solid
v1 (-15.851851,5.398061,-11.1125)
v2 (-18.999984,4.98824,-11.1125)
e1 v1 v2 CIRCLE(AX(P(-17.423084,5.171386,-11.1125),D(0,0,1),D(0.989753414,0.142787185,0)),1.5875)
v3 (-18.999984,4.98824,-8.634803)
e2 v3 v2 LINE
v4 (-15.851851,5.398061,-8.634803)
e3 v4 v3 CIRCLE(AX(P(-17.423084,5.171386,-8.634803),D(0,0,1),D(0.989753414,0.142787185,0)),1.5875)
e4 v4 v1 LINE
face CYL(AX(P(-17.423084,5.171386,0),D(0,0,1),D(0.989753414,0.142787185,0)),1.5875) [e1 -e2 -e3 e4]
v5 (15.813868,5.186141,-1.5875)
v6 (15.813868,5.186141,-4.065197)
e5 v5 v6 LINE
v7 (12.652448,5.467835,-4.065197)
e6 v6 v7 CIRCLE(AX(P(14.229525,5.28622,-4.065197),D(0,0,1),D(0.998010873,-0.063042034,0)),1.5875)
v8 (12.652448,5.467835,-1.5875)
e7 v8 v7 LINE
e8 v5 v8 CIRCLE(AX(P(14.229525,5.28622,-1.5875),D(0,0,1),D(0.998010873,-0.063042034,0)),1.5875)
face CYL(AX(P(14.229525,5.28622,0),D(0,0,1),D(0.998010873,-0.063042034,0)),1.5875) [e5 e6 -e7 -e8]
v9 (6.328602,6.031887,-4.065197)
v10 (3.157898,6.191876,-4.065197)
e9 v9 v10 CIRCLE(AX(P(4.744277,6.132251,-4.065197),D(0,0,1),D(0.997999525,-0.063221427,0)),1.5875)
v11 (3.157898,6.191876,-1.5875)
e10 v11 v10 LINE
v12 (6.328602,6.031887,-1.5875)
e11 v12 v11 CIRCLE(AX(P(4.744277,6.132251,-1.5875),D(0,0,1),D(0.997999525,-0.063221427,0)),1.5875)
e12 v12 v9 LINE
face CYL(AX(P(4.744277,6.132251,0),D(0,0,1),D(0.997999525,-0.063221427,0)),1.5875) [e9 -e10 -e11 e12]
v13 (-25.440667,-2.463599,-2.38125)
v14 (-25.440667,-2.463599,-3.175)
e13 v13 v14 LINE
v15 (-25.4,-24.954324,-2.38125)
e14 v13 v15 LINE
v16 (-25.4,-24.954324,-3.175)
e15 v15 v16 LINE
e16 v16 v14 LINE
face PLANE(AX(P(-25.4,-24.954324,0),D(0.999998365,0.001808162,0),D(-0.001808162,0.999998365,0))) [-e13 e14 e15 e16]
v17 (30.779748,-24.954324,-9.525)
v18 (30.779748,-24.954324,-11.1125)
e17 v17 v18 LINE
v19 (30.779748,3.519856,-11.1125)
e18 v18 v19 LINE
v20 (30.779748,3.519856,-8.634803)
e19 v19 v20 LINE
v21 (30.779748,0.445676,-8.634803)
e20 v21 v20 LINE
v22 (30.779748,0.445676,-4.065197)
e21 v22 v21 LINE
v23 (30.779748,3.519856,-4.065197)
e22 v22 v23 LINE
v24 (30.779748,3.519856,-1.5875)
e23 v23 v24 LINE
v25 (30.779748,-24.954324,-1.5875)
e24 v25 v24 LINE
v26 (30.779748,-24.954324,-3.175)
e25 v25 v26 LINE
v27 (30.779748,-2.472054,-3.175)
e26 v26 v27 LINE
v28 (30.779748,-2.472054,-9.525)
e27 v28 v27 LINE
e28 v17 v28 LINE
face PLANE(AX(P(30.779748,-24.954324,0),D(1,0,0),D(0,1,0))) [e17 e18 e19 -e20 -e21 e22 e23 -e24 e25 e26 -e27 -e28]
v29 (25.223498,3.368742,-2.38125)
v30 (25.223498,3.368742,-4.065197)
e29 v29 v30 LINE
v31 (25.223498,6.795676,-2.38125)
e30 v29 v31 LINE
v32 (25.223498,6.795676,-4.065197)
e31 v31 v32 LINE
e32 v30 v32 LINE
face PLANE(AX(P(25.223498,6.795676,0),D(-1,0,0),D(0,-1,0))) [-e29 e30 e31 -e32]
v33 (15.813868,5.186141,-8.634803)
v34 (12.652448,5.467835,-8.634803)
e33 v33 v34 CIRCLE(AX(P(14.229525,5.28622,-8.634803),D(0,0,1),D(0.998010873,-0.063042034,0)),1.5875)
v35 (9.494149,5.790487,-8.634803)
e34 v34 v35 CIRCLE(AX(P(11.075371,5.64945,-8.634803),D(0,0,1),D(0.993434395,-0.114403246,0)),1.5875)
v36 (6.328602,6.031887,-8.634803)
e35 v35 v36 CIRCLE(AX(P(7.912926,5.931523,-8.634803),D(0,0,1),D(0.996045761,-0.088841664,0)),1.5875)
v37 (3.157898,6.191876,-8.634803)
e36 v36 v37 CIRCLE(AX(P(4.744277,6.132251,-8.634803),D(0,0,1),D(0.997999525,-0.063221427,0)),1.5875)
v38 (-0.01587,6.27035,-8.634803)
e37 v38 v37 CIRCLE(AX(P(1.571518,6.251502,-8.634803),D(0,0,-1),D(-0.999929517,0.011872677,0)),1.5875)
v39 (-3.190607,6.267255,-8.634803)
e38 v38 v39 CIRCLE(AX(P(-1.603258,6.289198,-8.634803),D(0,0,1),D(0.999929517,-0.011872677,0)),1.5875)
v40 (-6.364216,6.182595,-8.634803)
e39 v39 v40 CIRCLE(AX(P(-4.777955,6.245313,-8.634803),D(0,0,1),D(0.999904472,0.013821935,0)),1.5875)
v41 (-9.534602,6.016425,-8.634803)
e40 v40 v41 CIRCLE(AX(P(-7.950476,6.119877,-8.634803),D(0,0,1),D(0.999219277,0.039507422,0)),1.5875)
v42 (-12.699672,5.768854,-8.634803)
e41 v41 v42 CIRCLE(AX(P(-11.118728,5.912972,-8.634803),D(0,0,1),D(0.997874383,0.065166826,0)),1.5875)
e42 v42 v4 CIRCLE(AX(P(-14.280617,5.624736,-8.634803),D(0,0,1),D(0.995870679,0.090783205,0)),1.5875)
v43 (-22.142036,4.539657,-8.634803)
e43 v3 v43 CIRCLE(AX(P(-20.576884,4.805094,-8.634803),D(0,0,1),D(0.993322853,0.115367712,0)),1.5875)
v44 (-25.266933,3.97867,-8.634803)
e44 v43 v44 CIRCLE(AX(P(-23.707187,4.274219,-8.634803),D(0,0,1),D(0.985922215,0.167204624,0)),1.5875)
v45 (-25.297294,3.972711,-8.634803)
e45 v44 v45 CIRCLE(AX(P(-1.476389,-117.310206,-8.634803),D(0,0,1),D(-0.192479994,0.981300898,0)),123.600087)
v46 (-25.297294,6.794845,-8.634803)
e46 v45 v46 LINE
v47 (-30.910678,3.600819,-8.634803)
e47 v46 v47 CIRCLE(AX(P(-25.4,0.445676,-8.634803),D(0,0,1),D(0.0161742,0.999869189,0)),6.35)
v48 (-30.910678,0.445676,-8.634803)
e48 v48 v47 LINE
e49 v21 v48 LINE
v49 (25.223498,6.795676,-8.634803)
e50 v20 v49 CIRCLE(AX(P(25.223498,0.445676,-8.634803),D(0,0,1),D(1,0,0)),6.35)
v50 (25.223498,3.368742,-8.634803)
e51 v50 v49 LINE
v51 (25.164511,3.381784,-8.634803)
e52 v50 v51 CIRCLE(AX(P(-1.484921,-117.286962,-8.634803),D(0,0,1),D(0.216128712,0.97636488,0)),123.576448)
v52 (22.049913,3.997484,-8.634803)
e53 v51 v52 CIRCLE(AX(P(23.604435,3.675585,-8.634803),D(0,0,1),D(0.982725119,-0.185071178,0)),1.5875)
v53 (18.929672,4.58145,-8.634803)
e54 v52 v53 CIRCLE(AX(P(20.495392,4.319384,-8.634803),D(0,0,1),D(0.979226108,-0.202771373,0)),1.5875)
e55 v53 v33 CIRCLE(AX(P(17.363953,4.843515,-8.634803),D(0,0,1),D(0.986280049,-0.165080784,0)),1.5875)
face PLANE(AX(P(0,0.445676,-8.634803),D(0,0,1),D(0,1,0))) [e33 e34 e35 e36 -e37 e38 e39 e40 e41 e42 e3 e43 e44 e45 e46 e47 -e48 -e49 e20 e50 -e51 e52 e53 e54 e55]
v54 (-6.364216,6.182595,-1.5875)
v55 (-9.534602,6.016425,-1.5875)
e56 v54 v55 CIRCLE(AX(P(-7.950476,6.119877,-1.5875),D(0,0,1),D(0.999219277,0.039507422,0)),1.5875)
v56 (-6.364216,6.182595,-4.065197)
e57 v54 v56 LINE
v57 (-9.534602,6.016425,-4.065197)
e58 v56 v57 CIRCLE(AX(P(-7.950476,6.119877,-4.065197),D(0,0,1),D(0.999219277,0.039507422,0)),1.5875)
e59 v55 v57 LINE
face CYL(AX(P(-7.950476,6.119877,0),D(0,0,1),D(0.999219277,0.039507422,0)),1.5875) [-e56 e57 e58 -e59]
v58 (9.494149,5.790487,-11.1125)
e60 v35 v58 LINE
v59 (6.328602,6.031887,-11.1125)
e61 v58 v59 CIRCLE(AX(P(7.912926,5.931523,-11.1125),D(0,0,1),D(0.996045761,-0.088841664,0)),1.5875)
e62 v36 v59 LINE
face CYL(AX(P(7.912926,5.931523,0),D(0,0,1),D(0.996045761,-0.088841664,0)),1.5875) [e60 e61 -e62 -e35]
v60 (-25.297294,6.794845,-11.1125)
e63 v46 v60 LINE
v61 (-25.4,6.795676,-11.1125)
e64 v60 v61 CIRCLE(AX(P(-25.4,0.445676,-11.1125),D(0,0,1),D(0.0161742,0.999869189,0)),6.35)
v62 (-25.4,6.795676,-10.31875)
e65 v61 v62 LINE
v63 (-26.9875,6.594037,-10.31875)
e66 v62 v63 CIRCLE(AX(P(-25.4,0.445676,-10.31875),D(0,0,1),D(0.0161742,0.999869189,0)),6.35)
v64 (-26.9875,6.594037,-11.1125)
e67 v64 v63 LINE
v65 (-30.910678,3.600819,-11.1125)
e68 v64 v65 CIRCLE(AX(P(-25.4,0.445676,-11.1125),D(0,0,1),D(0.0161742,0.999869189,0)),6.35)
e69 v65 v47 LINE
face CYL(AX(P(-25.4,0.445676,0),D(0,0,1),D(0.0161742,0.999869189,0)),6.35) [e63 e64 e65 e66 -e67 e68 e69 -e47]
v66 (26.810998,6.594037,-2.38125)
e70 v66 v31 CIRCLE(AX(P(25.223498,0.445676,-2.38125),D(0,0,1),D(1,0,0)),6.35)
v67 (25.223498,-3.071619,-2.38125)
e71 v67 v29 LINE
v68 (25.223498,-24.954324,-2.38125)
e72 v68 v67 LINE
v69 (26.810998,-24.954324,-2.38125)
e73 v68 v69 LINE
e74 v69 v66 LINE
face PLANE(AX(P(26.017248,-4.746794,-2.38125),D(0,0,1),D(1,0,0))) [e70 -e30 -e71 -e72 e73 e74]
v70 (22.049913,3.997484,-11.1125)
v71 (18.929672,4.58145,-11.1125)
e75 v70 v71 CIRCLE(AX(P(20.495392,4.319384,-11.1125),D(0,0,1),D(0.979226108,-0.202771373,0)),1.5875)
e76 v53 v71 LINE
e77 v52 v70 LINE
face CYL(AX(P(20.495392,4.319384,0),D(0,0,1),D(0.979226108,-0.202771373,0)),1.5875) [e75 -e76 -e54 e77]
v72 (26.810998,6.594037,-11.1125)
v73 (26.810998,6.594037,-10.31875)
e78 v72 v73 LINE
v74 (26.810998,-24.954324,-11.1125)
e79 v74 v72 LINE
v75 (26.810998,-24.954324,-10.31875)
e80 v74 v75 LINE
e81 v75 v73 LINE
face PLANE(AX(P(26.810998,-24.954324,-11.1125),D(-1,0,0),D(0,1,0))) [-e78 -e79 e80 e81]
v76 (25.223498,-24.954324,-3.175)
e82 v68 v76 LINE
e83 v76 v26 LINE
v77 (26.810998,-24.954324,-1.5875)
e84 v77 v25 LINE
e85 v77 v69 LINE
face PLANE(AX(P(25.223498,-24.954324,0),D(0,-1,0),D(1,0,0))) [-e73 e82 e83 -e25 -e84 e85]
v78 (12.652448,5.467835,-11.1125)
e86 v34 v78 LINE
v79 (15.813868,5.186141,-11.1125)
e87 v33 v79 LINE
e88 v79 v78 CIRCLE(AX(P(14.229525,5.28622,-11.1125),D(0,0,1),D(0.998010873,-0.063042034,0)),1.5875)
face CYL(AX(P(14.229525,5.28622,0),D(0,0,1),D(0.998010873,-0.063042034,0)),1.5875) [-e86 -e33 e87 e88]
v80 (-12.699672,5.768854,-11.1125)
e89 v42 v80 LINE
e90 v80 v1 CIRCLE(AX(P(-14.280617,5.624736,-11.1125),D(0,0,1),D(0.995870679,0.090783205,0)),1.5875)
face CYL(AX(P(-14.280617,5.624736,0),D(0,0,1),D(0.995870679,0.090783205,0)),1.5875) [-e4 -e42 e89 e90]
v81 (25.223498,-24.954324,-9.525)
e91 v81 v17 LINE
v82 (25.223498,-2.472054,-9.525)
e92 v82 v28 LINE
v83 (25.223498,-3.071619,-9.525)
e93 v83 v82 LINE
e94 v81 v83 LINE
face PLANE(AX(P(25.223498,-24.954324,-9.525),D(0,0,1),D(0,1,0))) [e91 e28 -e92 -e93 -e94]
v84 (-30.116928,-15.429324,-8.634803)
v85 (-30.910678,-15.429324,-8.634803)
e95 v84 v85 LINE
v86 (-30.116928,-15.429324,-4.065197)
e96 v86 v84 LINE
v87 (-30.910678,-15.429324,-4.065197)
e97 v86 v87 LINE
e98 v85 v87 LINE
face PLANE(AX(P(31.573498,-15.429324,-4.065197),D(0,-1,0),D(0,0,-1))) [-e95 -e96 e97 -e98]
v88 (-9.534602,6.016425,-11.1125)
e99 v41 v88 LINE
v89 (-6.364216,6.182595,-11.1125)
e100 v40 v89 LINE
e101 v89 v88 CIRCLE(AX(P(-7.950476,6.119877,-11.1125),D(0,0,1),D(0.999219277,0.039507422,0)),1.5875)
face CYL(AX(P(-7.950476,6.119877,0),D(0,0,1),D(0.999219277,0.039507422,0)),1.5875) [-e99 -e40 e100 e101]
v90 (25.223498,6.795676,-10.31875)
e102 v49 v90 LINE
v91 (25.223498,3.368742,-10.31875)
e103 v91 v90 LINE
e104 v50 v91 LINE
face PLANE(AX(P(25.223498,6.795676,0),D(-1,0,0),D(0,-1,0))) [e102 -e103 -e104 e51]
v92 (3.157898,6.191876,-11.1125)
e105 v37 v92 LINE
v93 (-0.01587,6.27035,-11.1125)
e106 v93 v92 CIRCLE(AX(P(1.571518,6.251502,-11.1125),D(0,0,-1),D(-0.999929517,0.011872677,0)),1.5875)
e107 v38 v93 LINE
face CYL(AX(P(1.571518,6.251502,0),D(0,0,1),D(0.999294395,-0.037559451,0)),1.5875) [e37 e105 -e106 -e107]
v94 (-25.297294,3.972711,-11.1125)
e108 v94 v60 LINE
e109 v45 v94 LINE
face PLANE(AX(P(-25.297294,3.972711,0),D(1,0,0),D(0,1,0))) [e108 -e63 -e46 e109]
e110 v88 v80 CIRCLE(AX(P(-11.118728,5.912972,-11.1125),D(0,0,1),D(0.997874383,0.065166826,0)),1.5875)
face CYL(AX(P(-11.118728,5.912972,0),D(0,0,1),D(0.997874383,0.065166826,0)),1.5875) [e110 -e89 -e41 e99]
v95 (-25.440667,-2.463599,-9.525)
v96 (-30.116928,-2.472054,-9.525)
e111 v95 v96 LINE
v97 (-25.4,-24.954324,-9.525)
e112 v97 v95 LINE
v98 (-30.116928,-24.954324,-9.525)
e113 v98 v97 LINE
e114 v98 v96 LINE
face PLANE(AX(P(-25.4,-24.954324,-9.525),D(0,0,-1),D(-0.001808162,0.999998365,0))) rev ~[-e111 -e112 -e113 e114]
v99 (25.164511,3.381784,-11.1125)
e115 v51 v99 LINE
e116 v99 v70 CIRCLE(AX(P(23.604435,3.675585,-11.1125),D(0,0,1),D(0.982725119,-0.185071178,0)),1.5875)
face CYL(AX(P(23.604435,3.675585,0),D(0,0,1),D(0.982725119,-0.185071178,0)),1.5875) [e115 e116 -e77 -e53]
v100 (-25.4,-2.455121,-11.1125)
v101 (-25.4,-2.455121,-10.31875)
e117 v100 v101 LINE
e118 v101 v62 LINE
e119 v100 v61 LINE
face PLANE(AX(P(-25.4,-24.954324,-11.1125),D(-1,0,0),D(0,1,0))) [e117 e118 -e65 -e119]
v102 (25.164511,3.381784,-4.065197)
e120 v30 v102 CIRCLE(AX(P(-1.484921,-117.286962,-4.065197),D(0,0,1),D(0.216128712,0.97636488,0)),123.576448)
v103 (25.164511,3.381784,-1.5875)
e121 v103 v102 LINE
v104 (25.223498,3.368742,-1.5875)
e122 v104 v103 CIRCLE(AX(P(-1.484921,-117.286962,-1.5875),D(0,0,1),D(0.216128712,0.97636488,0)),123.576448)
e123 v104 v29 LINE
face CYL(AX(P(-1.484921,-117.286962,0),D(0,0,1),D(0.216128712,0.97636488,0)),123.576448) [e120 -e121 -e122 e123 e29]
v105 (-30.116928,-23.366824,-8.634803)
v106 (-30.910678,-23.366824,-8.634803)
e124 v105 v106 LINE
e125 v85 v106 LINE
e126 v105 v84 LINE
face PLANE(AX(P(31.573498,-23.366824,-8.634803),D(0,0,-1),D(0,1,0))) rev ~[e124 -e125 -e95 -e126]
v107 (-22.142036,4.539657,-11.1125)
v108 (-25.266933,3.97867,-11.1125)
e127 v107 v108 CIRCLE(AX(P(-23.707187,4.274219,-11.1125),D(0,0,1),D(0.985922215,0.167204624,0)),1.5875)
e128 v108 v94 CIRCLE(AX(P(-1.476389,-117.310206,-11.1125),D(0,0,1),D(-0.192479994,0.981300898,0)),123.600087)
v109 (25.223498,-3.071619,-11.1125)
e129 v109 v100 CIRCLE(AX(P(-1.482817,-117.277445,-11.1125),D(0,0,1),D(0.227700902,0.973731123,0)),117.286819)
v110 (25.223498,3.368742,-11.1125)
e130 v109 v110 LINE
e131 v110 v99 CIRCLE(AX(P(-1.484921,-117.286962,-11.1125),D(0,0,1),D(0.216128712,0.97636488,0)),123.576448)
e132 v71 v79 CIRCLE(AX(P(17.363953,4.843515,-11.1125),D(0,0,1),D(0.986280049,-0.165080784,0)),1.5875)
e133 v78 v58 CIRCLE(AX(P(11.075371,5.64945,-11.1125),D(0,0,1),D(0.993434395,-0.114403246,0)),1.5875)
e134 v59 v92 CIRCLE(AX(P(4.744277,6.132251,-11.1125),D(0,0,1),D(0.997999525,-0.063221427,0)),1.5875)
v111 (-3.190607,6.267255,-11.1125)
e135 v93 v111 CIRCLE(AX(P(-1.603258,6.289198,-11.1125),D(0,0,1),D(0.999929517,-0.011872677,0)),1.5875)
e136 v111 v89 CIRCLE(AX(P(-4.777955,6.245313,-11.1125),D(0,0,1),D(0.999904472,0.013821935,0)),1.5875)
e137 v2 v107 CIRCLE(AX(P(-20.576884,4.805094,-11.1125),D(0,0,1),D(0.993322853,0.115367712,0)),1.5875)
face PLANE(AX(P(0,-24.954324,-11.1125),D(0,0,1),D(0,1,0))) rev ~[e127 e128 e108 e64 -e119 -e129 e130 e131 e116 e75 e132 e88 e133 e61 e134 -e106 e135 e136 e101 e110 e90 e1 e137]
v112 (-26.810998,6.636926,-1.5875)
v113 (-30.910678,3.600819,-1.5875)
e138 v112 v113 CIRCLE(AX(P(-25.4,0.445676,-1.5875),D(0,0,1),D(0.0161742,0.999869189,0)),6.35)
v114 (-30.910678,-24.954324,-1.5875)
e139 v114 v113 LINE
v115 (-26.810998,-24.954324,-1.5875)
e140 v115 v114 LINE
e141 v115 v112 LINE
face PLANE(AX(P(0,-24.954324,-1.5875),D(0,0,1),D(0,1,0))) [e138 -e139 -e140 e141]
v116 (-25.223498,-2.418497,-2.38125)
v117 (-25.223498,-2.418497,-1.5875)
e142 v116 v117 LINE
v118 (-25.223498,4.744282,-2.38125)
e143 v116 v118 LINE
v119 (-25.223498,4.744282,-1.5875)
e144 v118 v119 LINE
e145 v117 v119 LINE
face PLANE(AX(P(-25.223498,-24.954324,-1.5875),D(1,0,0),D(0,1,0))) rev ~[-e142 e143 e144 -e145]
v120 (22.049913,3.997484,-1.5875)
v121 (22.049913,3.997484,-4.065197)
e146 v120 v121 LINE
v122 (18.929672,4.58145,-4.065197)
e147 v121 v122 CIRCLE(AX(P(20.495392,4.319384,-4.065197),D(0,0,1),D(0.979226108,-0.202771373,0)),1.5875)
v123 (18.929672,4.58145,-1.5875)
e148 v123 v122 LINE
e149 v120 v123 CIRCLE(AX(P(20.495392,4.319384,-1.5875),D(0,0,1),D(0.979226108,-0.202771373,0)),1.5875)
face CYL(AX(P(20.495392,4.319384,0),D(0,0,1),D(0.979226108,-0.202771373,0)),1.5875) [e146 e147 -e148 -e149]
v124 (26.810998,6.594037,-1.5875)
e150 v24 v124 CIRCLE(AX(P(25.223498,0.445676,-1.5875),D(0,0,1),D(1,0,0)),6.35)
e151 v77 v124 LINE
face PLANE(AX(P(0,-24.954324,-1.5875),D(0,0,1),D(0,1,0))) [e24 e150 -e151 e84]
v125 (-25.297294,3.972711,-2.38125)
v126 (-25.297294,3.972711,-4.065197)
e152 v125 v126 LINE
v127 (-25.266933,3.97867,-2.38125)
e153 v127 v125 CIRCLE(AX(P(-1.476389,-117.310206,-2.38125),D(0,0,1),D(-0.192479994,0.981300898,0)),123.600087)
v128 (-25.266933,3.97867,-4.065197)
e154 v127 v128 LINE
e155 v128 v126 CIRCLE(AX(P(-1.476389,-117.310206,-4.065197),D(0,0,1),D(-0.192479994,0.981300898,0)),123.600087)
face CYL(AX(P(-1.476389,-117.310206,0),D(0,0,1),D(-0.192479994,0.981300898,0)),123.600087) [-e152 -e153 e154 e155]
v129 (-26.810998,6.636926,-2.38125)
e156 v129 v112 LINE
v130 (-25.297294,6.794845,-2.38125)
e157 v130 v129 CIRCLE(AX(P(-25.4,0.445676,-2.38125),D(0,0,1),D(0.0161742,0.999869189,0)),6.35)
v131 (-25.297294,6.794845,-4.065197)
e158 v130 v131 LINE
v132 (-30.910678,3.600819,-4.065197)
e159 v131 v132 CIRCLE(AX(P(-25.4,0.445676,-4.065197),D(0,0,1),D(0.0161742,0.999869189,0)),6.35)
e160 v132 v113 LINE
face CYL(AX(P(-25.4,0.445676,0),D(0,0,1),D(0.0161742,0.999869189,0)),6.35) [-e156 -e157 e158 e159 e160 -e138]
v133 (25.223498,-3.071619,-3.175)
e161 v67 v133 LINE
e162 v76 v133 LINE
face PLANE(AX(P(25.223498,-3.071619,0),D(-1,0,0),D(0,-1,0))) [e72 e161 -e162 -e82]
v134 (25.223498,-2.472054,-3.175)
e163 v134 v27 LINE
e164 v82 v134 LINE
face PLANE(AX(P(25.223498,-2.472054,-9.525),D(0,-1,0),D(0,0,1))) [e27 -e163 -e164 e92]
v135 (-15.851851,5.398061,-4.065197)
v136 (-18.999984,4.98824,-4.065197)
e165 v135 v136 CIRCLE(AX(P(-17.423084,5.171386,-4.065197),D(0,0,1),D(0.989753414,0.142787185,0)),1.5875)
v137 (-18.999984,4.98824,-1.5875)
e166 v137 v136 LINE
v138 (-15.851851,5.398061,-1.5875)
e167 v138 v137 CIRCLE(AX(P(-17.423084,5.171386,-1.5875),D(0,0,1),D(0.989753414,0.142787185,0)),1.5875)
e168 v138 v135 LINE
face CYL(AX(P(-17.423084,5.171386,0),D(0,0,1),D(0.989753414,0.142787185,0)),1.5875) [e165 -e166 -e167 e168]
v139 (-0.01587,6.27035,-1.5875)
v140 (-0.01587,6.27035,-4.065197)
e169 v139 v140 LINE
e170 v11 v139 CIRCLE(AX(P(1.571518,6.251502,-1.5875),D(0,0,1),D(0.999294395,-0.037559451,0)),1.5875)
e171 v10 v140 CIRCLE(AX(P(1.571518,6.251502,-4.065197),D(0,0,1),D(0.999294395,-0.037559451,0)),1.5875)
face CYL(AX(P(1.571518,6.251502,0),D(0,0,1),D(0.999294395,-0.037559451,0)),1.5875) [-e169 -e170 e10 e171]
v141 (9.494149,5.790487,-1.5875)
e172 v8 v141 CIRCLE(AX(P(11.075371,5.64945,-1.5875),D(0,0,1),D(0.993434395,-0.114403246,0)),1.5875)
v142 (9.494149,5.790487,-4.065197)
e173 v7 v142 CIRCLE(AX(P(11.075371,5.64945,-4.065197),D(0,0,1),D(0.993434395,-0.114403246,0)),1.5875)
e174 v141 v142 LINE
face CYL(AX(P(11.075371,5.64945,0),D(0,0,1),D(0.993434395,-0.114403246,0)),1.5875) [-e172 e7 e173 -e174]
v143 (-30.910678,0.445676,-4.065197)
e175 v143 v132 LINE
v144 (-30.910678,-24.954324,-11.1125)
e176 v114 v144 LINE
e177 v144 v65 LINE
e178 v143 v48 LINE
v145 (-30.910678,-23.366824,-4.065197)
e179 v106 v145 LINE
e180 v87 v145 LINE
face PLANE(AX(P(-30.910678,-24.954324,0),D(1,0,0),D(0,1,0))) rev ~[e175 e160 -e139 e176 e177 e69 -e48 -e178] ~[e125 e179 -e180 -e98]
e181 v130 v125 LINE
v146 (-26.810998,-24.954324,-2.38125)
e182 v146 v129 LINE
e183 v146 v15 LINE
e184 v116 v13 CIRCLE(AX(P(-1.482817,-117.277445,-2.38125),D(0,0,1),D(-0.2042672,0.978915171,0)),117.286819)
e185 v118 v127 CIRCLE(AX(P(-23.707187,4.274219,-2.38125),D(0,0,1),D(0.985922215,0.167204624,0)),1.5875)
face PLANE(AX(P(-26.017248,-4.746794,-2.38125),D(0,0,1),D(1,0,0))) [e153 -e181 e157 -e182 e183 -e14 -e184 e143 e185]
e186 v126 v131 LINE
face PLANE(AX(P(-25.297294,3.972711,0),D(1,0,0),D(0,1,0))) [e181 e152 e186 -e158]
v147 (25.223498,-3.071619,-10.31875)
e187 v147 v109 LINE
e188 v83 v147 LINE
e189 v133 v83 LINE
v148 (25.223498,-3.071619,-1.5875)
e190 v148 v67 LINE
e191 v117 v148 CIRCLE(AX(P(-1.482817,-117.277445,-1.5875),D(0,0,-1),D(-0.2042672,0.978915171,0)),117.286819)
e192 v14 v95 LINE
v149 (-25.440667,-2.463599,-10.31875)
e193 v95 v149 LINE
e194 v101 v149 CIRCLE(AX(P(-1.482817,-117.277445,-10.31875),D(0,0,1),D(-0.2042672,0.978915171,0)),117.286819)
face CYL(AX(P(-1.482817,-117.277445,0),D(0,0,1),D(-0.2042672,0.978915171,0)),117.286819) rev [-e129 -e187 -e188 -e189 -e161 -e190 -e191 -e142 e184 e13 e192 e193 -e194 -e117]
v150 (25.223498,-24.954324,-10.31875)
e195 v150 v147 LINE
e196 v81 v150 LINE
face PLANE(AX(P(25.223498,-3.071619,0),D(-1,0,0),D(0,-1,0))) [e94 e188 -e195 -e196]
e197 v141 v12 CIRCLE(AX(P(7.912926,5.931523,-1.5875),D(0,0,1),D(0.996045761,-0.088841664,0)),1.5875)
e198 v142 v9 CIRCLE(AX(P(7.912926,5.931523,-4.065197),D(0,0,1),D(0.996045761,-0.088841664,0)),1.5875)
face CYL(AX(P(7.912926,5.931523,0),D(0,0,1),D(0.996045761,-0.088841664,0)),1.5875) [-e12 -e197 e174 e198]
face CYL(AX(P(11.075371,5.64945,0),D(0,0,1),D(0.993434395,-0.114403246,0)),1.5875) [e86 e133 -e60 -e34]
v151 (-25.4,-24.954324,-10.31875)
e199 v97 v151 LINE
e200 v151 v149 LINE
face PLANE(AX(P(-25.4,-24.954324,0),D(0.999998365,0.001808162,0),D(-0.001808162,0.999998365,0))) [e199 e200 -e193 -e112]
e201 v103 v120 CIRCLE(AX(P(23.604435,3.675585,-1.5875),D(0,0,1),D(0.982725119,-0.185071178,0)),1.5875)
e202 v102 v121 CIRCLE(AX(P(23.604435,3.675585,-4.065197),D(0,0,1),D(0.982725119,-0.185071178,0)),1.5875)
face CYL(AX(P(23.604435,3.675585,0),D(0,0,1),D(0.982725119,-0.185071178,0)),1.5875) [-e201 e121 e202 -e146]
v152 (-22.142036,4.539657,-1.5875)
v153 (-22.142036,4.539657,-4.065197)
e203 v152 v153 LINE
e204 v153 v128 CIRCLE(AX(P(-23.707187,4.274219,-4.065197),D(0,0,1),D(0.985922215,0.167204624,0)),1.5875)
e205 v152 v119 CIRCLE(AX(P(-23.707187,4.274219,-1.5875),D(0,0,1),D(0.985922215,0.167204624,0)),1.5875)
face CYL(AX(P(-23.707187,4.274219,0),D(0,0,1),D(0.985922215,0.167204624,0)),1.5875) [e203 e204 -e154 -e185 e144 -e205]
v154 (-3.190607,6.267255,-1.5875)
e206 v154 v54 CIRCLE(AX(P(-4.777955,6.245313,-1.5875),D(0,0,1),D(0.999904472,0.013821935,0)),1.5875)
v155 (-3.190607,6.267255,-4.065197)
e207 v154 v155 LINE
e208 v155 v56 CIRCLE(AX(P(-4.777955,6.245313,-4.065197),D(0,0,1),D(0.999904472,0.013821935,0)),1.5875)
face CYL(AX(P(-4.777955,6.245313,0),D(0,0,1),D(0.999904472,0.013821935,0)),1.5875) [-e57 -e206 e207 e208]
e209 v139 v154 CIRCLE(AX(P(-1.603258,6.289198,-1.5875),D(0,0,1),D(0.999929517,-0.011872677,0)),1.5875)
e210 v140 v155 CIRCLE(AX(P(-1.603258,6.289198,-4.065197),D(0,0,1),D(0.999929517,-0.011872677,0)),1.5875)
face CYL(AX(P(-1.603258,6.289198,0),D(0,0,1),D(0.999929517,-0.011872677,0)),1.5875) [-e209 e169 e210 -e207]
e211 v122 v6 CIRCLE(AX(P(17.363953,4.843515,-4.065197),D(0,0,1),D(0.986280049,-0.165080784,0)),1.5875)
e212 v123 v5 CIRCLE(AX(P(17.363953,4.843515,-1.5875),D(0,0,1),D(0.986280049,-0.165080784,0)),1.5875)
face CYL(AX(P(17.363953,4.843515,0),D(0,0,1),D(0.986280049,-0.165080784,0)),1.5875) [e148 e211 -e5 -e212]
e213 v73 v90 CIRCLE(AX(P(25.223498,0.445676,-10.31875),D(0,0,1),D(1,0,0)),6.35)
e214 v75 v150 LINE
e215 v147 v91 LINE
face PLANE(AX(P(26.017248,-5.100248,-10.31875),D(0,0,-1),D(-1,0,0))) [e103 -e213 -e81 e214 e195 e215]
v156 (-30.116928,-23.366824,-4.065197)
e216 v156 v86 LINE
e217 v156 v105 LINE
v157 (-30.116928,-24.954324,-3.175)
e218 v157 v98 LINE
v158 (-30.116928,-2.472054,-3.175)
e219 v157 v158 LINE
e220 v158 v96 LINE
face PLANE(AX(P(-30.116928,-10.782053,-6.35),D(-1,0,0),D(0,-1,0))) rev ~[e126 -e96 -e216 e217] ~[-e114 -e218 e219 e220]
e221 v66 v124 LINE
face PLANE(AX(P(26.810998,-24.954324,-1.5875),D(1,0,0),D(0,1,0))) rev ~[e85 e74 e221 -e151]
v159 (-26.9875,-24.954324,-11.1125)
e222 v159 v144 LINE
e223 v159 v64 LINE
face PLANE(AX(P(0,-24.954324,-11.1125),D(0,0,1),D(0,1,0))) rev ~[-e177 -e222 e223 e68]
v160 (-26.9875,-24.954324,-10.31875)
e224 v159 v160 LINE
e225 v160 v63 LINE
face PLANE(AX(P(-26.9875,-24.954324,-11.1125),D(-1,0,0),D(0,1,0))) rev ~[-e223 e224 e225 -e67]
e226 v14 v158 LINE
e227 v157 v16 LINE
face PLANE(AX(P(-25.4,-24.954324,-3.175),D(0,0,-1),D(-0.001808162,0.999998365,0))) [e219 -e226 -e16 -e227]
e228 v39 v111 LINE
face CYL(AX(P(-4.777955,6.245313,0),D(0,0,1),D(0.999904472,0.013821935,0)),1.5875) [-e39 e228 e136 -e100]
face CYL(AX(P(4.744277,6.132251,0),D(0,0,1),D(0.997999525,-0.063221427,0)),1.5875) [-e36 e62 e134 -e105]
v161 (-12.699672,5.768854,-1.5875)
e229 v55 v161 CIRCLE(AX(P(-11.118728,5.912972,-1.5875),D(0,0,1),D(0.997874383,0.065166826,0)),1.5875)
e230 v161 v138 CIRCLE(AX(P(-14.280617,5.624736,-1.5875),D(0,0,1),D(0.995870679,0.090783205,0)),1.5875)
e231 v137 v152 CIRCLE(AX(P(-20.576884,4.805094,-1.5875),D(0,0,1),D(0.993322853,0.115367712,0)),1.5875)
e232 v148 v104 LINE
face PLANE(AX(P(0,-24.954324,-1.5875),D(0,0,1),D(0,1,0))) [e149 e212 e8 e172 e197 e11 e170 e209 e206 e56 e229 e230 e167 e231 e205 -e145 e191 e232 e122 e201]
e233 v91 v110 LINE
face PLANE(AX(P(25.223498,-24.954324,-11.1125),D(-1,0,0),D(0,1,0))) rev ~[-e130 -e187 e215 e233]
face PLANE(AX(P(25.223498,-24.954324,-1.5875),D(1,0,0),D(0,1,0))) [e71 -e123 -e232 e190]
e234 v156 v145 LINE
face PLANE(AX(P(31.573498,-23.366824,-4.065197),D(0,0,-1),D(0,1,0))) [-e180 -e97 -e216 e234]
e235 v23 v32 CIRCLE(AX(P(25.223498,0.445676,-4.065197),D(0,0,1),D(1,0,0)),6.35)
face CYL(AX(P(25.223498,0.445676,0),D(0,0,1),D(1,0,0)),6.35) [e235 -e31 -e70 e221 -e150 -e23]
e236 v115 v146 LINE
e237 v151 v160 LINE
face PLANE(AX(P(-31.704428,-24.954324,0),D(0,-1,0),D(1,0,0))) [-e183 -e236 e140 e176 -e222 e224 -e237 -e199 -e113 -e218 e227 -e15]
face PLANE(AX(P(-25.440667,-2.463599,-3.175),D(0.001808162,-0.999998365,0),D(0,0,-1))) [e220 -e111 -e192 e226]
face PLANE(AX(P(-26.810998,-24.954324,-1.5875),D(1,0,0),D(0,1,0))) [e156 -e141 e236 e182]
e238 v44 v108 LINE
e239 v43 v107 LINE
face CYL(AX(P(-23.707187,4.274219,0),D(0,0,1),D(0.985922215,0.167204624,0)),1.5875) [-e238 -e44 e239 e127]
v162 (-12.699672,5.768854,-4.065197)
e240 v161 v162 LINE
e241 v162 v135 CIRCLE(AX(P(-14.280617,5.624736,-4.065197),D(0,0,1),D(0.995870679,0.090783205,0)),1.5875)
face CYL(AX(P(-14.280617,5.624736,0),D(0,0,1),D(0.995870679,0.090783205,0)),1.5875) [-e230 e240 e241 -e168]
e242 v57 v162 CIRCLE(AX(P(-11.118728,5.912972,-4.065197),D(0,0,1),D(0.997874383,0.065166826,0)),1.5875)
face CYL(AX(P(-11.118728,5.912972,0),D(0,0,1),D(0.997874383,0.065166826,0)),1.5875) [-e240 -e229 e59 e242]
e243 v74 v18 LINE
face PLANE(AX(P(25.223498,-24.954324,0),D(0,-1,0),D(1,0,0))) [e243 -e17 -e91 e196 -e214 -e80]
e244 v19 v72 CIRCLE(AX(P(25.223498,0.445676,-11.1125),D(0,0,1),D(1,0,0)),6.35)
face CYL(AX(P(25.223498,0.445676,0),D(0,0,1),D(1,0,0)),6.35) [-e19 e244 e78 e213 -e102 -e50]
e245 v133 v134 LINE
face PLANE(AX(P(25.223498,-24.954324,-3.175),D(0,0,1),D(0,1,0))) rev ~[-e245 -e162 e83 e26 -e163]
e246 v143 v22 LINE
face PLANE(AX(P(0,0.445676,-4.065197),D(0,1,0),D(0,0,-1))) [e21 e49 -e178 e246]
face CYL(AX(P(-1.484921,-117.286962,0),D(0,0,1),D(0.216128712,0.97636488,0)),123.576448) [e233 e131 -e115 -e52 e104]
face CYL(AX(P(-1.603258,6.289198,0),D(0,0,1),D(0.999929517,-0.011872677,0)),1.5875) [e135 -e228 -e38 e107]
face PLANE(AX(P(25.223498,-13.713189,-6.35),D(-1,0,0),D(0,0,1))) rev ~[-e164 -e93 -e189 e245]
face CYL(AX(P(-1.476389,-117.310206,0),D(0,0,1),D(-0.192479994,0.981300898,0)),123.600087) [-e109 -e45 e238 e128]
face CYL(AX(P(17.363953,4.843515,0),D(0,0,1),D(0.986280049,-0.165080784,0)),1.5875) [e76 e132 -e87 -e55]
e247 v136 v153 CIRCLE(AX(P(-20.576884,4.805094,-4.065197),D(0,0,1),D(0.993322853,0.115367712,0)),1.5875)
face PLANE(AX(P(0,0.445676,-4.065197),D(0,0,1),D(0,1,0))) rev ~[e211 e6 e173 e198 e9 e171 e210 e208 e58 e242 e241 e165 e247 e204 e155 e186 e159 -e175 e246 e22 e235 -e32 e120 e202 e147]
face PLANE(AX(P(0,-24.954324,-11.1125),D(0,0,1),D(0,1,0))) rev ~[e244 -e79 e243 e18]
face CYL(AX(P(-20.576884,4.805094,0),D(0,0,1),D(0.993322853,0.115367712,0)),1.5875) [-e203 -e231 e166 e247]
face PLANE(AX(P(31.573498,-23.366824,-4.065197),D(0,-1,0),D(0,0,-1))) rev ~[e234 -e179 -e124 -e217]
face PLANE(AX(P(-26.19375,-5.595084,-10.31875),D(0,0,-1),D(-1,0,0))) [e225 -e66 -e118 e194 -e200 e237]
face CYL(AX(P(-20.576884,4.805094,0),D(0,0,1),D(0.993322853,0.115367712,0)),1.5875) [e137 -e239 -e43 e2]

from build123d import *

# Parameters (mm, degrees)
BOSS_EXTRUDE1_DEPTH              = 12.7
SKETCH3_W                        = 4.569606656
SKETCH3_H                        = 12.610946307
CUT_EXTRUDE1_DEPTH               = 32.573497659
CUT_EXTRUDE1_DEPTH_BACK          = 32.704428158
SKETCH4_W                        = 4.569606656
SKETCH4_H                        = 7.9375
CUT_EXTRUDE2_DEPTH               = 66.04
SKETCH5_W                        = 1.5875
SKETCH5_H                        = 39.725965327
CUT_EXTRUDE3_DEPTH               = 32.573497659
CUT_EXTRUDE3_DEPTH_BACK          = 32.704428158
SKETCH6_W                        = 1.5875
SKETCH6_H                        = 40.415060451
CUT_EXTRUDE4_DEPTH               = 0.79375
SKETCH7_W                        = 1.5875
SKETCH7_H                        = 38.718479636
SKETCH7_H_2                      = 39.708151778
CUT_EXTRUDE5_DEPTH               = 0.79375
CUT_EXTRUDE6_REACH               = 9.892
CUT_EXTRUDE6_OFFSET_FROM_SURFACE = 1.5875
SKETCH8_W                        = 6.35
SKETCH8_H                        = 22.490762182
SKETCH9_W                        = 6.35
SKETCH9_H                        = 22.482269966
CUT_EXTRUDE7_DEPTH               = 5.55625
SKETCH10_W                       = 0.79375
SKETCH10_H                       = 36.880517087
CUT_EXTRUDE8_DEPTH               = 12.1125


with BuildPart() as part:
    # Sketch1 → Boss-Extrude1 (new body)
    with BuildSketch(Plane.XY):
        with BuildLine():
            Line((25.223497659, -24.95432425), (31.573497659, -24.95432425))
            Line((31.573497659, -24.95432425), (31.573497659, 0.44567575))
            ThreePointArc((31.573497659, 0.44567575), (29.713625719, 4.935803811), (25.223497659, 6.79567575))
            Line((25.223497659, 6.79567575), (25.223497659, 3.36874218))
            ThreePointArc((25.223497659, 3.36874218), (25.194005143, 3.37526688), (25.164511033, 3.381784371))
            ThreePointArc((25.164511033, 3.381784371), (23.912297459, 5.232947026), (22.049913461, 3.997484421))
            ThreePointArc((22.049913461, 3.997484421), (20.787428344, 5.879791305), (18.929672437, 4.581449722))
            ThreePointArc((18.929672437, 4.581449722), (17.666399498, 6.401938478), (15.813867684, 5.186140916))
            ThreePointArc((15.813867684, 5.186140916), (14.370419451, 6.86745546), (12.652448322, 5.467835298))
            ThreePointArc((12.652448322, 5.467835298), (11.236710182, 7.228730664), (9.494148573, 5.790486593))
            ThreePointArc((9.494148573, 5.790486593), (8.033635968, 7.514426817), (6.328601682, 6.03188675))
            ThreePointArc((6.328601682, 6.03188675), (4.824278861, 7.717733664), (3.157897585, 6.191876393))
            ThreePointArc((3.157897585, 6.191876393), (1.610757722, 7.838516978), (-0.015870376, 6.270349895))
            ThreePointArc((-0.015870376, 6.270349895), (-1.604805836, 7.876697016), (-3.190606835, 6.267255447))
            ThreePointArc((-3.190606835, 6.267255447), (-4.820288856, 7.832248571), (-6.364215787, 6.182595092))
            ThreePointArc((-6.364215787, 6.182595092), (-8.033568431, 7.705200989), (-9.534601973, 6.016424724))
            ThreePointArc((-9.534601973, 6.016424724), (-11.24252311, 7.495638149), (-12.69967226, 5.76885405))
            ThreePointArc((-12.69967226, 5.76885405), (-14.466077033, 7.201365285), (-15.851850507, 5.398061056))
            ThreePointArc((-15.851850507, 5.398061056), (-17.628014087, 6.745603643), (-18.999984081, 4.988240156))
            ThreePointArc((-18.999984081, 4.988240156), (-20.801252814, 6.376658399), (-22.142035626, 4.539656571))
            ThreePointArc((-22.142035626, 4.539656571), (-23.987693231, 5.836740457), (-25.266933007, 3.978670437))
            ThreePointArc((-25.266933007, 3.978670437), (-25.282113604, 3.97569181), (-25.297293828, 3.972711283))
            Line((-25.297293828, 3.972711283), (-25.297293828, 6.794845101))
            ThreePointArc((-25.297293828, 6.794845101), (-29.574532825, 5.2306288), (-31.704428158, 1.205073937))
            Line((-31.704428158, 1.205073937), (-31.704428158, -24.95432425))
            Line((-31.704428158, -24.95432425), (-25.4, -24.95432425))
            Line((-25.4, -24.95432425), (-25.440666935, -2.463598833))
            ThreePointArc((-25.440666935, -2.463598833), (-0.075359426, 0.000928604), (25.223497659, -3.071619312))
            Line((25.223497659, -3.071619312), (25.223497659, -24.95432425))
        make_face()
    extrude(amount=-BOSS_EXTRUDE1_DEPTH)

    # Sketch3 → Cut-Extrude1 (cut, two sides)
    with BuildSketch(Plane(origin=(0, 0, 0), x_dir=(0, 0, -1), z_dir=(1, 0, 0))) as cut_extrude1_sk:
        with Locations((6.35, 6.751148903)):
            Rectangle(SKETCH3_W, SKETCH3_H)
    extrude(amount=CUT_EXTRUDE1_DEPTH, mode=Mode.SUBTRACT)
    extrude(cut_extrude1_sk.sketch, amount=-CUT_EXTRUDE1_DEPTH_BACK, mode=Mode.SUBTRACT)

    # Sketch4 → Cut-Extrude2 (cut)
    with BuildSketch(Plane(origin=(31.573497659, 0, 0), x_dir=(0, 0, -1), z_dir=(1, 0, 0))):
        with Locations((6.35, -19.39807425)):
            Rectangle(SKETCH4_W, SKETCH4_H)
    extrude(amount=-CUT_EXTRUDE2_DEPTH, mode=Mode.SUBTRACT)

    # Sketch5 → Cut-Extrude3 (cut, two sides)
    with BuildSketch(Plane(origin=(0, 0, 0), x_dir=(0, 0, -1), z_dir=(1, 0, 0))) as cut_extrude3_sk:
        with Locations((0.79375, -5.091341587)):
            Rectangle(SKETCH5_W, SKETCH5_H)
        with Locations((11.90625, -5.091341587)):
            Rectangle(SKETCH5_W, SKETCH5_H)
    extrude(amount=CUT_EXTRUDE3_DEPTH, mode=Mode.SUBTRACT)
    extrude(cut_extrude3_sk.sketch, amount=-CUT_EXTRUDE3_DEPTH_BACK, mode=Mode.SUBTRACT)

    # Sketch6 → Cut-Extrude4 (cut)
    with BuildSketch(Plane.XY.offset(-1.5875)):
        with Locations((26.017247659, -4.746794025)):
            Rectangle(SKETCH6_W, SKETCH6_H)
        with Locations((-26.017247659, -4.746794025)):
            Rectangle(SKETCH6_W, SKETCH6_H)
    extrude(amount=-CUT_EXTRUDE4_DEPTH, mode=Mode.SUBTRACT)

    # Sketch7 → Cut-Extrude5 (cut)
    with BuildSketch(Plane(origin=(0, 0, -11.1125), x_dir=(-1, 0, 0), z_dir=(0, 0, -1))):
        with Locations((26.19375, -5.595084432)):
            Rectangle(SKETCH7_W, SKETCH7_H)
        with Locations((-26.017247659, -5.100248361)):
            Rectangle(SKETCH7_W, SKETCH7_H_2)
    extrude(amount=-CUT_EXTRUDE5_DEPTH, mode=Mode.SUBTRACT)

    # Cut-Extrude6: up to this face of the body (flat: up to its plane, moved by the offset)
    cut_extrude6_end = Plane(part.part.faces().sort_by_distance((-31.704428158, -10.78205278, -6.35))[0]).offset(-CUT_EXTRUDE6_OFFSET_FROM_SURFACE)
    # Sketch8 → Cut-Extrude6 (cut, up to the picked face)
    with BuildSketch(Plane(origin=(-25.445038336, -0.046008819, 0), x_dir=(0, 0, -1), z_dir=(0.999998365, 0.001808162, 0)), mode=Mode.PRIVATE) as cut_extrude6_sk1:
        with Locations((6.35, -13.662975058)):
            Rectangle(SKETCH8_W, SKETCH8_H)
    cut_extrude6_tool1 = split(extrude(cut_extrude6_sk1.sketch, amount=-CUT_EXTRUDE6_REACH, mode=Mode.PRIVATE), bisect_by=cut_extrude6_end, keep=Keep.BOTH, mode=Mode.PRIVATE)
    add(cut_extrude6_tool1.solids().sort_by_distance((-25.420333, -13.708962, -6.35))[0], mode=Mode.SUBTRACT)

    # Sketch9 → Cut-Extrude7 (cut)
    with BuildSketch(Plane.ZY.offset(-25.223497659)):
        with Locations((-6.35, -13.713189267)):
            Rectangle(SKETCH9_W, SKETCH9_H)
    extrude(amount=-CUT_EXTRUDE7_DEPTH, mode=Mode.SUBTRACT)

    # Sketch10 → Cut-Extrude8 (cut, through all)
    with BuildSketch(Plane.XY):
        Polygon((-31.704428158, -24.691676413), (-31.704428158, 9.381321615), (-30.910678158, 9.381321615), (-30.910678158, -24.691676413), (-30.910678158, -24.95432425), (-31.704428158, -24.95432425), align=None)
        with Locations((31.176622659, -6.514065707)):
            Rectangle(SKETCH10_W, SKETCH10_H)
    extrude(amount=-CUT_EXTRUDE8_DEPTH, mode=Mode.SUBTRACT)


solid = part.part
